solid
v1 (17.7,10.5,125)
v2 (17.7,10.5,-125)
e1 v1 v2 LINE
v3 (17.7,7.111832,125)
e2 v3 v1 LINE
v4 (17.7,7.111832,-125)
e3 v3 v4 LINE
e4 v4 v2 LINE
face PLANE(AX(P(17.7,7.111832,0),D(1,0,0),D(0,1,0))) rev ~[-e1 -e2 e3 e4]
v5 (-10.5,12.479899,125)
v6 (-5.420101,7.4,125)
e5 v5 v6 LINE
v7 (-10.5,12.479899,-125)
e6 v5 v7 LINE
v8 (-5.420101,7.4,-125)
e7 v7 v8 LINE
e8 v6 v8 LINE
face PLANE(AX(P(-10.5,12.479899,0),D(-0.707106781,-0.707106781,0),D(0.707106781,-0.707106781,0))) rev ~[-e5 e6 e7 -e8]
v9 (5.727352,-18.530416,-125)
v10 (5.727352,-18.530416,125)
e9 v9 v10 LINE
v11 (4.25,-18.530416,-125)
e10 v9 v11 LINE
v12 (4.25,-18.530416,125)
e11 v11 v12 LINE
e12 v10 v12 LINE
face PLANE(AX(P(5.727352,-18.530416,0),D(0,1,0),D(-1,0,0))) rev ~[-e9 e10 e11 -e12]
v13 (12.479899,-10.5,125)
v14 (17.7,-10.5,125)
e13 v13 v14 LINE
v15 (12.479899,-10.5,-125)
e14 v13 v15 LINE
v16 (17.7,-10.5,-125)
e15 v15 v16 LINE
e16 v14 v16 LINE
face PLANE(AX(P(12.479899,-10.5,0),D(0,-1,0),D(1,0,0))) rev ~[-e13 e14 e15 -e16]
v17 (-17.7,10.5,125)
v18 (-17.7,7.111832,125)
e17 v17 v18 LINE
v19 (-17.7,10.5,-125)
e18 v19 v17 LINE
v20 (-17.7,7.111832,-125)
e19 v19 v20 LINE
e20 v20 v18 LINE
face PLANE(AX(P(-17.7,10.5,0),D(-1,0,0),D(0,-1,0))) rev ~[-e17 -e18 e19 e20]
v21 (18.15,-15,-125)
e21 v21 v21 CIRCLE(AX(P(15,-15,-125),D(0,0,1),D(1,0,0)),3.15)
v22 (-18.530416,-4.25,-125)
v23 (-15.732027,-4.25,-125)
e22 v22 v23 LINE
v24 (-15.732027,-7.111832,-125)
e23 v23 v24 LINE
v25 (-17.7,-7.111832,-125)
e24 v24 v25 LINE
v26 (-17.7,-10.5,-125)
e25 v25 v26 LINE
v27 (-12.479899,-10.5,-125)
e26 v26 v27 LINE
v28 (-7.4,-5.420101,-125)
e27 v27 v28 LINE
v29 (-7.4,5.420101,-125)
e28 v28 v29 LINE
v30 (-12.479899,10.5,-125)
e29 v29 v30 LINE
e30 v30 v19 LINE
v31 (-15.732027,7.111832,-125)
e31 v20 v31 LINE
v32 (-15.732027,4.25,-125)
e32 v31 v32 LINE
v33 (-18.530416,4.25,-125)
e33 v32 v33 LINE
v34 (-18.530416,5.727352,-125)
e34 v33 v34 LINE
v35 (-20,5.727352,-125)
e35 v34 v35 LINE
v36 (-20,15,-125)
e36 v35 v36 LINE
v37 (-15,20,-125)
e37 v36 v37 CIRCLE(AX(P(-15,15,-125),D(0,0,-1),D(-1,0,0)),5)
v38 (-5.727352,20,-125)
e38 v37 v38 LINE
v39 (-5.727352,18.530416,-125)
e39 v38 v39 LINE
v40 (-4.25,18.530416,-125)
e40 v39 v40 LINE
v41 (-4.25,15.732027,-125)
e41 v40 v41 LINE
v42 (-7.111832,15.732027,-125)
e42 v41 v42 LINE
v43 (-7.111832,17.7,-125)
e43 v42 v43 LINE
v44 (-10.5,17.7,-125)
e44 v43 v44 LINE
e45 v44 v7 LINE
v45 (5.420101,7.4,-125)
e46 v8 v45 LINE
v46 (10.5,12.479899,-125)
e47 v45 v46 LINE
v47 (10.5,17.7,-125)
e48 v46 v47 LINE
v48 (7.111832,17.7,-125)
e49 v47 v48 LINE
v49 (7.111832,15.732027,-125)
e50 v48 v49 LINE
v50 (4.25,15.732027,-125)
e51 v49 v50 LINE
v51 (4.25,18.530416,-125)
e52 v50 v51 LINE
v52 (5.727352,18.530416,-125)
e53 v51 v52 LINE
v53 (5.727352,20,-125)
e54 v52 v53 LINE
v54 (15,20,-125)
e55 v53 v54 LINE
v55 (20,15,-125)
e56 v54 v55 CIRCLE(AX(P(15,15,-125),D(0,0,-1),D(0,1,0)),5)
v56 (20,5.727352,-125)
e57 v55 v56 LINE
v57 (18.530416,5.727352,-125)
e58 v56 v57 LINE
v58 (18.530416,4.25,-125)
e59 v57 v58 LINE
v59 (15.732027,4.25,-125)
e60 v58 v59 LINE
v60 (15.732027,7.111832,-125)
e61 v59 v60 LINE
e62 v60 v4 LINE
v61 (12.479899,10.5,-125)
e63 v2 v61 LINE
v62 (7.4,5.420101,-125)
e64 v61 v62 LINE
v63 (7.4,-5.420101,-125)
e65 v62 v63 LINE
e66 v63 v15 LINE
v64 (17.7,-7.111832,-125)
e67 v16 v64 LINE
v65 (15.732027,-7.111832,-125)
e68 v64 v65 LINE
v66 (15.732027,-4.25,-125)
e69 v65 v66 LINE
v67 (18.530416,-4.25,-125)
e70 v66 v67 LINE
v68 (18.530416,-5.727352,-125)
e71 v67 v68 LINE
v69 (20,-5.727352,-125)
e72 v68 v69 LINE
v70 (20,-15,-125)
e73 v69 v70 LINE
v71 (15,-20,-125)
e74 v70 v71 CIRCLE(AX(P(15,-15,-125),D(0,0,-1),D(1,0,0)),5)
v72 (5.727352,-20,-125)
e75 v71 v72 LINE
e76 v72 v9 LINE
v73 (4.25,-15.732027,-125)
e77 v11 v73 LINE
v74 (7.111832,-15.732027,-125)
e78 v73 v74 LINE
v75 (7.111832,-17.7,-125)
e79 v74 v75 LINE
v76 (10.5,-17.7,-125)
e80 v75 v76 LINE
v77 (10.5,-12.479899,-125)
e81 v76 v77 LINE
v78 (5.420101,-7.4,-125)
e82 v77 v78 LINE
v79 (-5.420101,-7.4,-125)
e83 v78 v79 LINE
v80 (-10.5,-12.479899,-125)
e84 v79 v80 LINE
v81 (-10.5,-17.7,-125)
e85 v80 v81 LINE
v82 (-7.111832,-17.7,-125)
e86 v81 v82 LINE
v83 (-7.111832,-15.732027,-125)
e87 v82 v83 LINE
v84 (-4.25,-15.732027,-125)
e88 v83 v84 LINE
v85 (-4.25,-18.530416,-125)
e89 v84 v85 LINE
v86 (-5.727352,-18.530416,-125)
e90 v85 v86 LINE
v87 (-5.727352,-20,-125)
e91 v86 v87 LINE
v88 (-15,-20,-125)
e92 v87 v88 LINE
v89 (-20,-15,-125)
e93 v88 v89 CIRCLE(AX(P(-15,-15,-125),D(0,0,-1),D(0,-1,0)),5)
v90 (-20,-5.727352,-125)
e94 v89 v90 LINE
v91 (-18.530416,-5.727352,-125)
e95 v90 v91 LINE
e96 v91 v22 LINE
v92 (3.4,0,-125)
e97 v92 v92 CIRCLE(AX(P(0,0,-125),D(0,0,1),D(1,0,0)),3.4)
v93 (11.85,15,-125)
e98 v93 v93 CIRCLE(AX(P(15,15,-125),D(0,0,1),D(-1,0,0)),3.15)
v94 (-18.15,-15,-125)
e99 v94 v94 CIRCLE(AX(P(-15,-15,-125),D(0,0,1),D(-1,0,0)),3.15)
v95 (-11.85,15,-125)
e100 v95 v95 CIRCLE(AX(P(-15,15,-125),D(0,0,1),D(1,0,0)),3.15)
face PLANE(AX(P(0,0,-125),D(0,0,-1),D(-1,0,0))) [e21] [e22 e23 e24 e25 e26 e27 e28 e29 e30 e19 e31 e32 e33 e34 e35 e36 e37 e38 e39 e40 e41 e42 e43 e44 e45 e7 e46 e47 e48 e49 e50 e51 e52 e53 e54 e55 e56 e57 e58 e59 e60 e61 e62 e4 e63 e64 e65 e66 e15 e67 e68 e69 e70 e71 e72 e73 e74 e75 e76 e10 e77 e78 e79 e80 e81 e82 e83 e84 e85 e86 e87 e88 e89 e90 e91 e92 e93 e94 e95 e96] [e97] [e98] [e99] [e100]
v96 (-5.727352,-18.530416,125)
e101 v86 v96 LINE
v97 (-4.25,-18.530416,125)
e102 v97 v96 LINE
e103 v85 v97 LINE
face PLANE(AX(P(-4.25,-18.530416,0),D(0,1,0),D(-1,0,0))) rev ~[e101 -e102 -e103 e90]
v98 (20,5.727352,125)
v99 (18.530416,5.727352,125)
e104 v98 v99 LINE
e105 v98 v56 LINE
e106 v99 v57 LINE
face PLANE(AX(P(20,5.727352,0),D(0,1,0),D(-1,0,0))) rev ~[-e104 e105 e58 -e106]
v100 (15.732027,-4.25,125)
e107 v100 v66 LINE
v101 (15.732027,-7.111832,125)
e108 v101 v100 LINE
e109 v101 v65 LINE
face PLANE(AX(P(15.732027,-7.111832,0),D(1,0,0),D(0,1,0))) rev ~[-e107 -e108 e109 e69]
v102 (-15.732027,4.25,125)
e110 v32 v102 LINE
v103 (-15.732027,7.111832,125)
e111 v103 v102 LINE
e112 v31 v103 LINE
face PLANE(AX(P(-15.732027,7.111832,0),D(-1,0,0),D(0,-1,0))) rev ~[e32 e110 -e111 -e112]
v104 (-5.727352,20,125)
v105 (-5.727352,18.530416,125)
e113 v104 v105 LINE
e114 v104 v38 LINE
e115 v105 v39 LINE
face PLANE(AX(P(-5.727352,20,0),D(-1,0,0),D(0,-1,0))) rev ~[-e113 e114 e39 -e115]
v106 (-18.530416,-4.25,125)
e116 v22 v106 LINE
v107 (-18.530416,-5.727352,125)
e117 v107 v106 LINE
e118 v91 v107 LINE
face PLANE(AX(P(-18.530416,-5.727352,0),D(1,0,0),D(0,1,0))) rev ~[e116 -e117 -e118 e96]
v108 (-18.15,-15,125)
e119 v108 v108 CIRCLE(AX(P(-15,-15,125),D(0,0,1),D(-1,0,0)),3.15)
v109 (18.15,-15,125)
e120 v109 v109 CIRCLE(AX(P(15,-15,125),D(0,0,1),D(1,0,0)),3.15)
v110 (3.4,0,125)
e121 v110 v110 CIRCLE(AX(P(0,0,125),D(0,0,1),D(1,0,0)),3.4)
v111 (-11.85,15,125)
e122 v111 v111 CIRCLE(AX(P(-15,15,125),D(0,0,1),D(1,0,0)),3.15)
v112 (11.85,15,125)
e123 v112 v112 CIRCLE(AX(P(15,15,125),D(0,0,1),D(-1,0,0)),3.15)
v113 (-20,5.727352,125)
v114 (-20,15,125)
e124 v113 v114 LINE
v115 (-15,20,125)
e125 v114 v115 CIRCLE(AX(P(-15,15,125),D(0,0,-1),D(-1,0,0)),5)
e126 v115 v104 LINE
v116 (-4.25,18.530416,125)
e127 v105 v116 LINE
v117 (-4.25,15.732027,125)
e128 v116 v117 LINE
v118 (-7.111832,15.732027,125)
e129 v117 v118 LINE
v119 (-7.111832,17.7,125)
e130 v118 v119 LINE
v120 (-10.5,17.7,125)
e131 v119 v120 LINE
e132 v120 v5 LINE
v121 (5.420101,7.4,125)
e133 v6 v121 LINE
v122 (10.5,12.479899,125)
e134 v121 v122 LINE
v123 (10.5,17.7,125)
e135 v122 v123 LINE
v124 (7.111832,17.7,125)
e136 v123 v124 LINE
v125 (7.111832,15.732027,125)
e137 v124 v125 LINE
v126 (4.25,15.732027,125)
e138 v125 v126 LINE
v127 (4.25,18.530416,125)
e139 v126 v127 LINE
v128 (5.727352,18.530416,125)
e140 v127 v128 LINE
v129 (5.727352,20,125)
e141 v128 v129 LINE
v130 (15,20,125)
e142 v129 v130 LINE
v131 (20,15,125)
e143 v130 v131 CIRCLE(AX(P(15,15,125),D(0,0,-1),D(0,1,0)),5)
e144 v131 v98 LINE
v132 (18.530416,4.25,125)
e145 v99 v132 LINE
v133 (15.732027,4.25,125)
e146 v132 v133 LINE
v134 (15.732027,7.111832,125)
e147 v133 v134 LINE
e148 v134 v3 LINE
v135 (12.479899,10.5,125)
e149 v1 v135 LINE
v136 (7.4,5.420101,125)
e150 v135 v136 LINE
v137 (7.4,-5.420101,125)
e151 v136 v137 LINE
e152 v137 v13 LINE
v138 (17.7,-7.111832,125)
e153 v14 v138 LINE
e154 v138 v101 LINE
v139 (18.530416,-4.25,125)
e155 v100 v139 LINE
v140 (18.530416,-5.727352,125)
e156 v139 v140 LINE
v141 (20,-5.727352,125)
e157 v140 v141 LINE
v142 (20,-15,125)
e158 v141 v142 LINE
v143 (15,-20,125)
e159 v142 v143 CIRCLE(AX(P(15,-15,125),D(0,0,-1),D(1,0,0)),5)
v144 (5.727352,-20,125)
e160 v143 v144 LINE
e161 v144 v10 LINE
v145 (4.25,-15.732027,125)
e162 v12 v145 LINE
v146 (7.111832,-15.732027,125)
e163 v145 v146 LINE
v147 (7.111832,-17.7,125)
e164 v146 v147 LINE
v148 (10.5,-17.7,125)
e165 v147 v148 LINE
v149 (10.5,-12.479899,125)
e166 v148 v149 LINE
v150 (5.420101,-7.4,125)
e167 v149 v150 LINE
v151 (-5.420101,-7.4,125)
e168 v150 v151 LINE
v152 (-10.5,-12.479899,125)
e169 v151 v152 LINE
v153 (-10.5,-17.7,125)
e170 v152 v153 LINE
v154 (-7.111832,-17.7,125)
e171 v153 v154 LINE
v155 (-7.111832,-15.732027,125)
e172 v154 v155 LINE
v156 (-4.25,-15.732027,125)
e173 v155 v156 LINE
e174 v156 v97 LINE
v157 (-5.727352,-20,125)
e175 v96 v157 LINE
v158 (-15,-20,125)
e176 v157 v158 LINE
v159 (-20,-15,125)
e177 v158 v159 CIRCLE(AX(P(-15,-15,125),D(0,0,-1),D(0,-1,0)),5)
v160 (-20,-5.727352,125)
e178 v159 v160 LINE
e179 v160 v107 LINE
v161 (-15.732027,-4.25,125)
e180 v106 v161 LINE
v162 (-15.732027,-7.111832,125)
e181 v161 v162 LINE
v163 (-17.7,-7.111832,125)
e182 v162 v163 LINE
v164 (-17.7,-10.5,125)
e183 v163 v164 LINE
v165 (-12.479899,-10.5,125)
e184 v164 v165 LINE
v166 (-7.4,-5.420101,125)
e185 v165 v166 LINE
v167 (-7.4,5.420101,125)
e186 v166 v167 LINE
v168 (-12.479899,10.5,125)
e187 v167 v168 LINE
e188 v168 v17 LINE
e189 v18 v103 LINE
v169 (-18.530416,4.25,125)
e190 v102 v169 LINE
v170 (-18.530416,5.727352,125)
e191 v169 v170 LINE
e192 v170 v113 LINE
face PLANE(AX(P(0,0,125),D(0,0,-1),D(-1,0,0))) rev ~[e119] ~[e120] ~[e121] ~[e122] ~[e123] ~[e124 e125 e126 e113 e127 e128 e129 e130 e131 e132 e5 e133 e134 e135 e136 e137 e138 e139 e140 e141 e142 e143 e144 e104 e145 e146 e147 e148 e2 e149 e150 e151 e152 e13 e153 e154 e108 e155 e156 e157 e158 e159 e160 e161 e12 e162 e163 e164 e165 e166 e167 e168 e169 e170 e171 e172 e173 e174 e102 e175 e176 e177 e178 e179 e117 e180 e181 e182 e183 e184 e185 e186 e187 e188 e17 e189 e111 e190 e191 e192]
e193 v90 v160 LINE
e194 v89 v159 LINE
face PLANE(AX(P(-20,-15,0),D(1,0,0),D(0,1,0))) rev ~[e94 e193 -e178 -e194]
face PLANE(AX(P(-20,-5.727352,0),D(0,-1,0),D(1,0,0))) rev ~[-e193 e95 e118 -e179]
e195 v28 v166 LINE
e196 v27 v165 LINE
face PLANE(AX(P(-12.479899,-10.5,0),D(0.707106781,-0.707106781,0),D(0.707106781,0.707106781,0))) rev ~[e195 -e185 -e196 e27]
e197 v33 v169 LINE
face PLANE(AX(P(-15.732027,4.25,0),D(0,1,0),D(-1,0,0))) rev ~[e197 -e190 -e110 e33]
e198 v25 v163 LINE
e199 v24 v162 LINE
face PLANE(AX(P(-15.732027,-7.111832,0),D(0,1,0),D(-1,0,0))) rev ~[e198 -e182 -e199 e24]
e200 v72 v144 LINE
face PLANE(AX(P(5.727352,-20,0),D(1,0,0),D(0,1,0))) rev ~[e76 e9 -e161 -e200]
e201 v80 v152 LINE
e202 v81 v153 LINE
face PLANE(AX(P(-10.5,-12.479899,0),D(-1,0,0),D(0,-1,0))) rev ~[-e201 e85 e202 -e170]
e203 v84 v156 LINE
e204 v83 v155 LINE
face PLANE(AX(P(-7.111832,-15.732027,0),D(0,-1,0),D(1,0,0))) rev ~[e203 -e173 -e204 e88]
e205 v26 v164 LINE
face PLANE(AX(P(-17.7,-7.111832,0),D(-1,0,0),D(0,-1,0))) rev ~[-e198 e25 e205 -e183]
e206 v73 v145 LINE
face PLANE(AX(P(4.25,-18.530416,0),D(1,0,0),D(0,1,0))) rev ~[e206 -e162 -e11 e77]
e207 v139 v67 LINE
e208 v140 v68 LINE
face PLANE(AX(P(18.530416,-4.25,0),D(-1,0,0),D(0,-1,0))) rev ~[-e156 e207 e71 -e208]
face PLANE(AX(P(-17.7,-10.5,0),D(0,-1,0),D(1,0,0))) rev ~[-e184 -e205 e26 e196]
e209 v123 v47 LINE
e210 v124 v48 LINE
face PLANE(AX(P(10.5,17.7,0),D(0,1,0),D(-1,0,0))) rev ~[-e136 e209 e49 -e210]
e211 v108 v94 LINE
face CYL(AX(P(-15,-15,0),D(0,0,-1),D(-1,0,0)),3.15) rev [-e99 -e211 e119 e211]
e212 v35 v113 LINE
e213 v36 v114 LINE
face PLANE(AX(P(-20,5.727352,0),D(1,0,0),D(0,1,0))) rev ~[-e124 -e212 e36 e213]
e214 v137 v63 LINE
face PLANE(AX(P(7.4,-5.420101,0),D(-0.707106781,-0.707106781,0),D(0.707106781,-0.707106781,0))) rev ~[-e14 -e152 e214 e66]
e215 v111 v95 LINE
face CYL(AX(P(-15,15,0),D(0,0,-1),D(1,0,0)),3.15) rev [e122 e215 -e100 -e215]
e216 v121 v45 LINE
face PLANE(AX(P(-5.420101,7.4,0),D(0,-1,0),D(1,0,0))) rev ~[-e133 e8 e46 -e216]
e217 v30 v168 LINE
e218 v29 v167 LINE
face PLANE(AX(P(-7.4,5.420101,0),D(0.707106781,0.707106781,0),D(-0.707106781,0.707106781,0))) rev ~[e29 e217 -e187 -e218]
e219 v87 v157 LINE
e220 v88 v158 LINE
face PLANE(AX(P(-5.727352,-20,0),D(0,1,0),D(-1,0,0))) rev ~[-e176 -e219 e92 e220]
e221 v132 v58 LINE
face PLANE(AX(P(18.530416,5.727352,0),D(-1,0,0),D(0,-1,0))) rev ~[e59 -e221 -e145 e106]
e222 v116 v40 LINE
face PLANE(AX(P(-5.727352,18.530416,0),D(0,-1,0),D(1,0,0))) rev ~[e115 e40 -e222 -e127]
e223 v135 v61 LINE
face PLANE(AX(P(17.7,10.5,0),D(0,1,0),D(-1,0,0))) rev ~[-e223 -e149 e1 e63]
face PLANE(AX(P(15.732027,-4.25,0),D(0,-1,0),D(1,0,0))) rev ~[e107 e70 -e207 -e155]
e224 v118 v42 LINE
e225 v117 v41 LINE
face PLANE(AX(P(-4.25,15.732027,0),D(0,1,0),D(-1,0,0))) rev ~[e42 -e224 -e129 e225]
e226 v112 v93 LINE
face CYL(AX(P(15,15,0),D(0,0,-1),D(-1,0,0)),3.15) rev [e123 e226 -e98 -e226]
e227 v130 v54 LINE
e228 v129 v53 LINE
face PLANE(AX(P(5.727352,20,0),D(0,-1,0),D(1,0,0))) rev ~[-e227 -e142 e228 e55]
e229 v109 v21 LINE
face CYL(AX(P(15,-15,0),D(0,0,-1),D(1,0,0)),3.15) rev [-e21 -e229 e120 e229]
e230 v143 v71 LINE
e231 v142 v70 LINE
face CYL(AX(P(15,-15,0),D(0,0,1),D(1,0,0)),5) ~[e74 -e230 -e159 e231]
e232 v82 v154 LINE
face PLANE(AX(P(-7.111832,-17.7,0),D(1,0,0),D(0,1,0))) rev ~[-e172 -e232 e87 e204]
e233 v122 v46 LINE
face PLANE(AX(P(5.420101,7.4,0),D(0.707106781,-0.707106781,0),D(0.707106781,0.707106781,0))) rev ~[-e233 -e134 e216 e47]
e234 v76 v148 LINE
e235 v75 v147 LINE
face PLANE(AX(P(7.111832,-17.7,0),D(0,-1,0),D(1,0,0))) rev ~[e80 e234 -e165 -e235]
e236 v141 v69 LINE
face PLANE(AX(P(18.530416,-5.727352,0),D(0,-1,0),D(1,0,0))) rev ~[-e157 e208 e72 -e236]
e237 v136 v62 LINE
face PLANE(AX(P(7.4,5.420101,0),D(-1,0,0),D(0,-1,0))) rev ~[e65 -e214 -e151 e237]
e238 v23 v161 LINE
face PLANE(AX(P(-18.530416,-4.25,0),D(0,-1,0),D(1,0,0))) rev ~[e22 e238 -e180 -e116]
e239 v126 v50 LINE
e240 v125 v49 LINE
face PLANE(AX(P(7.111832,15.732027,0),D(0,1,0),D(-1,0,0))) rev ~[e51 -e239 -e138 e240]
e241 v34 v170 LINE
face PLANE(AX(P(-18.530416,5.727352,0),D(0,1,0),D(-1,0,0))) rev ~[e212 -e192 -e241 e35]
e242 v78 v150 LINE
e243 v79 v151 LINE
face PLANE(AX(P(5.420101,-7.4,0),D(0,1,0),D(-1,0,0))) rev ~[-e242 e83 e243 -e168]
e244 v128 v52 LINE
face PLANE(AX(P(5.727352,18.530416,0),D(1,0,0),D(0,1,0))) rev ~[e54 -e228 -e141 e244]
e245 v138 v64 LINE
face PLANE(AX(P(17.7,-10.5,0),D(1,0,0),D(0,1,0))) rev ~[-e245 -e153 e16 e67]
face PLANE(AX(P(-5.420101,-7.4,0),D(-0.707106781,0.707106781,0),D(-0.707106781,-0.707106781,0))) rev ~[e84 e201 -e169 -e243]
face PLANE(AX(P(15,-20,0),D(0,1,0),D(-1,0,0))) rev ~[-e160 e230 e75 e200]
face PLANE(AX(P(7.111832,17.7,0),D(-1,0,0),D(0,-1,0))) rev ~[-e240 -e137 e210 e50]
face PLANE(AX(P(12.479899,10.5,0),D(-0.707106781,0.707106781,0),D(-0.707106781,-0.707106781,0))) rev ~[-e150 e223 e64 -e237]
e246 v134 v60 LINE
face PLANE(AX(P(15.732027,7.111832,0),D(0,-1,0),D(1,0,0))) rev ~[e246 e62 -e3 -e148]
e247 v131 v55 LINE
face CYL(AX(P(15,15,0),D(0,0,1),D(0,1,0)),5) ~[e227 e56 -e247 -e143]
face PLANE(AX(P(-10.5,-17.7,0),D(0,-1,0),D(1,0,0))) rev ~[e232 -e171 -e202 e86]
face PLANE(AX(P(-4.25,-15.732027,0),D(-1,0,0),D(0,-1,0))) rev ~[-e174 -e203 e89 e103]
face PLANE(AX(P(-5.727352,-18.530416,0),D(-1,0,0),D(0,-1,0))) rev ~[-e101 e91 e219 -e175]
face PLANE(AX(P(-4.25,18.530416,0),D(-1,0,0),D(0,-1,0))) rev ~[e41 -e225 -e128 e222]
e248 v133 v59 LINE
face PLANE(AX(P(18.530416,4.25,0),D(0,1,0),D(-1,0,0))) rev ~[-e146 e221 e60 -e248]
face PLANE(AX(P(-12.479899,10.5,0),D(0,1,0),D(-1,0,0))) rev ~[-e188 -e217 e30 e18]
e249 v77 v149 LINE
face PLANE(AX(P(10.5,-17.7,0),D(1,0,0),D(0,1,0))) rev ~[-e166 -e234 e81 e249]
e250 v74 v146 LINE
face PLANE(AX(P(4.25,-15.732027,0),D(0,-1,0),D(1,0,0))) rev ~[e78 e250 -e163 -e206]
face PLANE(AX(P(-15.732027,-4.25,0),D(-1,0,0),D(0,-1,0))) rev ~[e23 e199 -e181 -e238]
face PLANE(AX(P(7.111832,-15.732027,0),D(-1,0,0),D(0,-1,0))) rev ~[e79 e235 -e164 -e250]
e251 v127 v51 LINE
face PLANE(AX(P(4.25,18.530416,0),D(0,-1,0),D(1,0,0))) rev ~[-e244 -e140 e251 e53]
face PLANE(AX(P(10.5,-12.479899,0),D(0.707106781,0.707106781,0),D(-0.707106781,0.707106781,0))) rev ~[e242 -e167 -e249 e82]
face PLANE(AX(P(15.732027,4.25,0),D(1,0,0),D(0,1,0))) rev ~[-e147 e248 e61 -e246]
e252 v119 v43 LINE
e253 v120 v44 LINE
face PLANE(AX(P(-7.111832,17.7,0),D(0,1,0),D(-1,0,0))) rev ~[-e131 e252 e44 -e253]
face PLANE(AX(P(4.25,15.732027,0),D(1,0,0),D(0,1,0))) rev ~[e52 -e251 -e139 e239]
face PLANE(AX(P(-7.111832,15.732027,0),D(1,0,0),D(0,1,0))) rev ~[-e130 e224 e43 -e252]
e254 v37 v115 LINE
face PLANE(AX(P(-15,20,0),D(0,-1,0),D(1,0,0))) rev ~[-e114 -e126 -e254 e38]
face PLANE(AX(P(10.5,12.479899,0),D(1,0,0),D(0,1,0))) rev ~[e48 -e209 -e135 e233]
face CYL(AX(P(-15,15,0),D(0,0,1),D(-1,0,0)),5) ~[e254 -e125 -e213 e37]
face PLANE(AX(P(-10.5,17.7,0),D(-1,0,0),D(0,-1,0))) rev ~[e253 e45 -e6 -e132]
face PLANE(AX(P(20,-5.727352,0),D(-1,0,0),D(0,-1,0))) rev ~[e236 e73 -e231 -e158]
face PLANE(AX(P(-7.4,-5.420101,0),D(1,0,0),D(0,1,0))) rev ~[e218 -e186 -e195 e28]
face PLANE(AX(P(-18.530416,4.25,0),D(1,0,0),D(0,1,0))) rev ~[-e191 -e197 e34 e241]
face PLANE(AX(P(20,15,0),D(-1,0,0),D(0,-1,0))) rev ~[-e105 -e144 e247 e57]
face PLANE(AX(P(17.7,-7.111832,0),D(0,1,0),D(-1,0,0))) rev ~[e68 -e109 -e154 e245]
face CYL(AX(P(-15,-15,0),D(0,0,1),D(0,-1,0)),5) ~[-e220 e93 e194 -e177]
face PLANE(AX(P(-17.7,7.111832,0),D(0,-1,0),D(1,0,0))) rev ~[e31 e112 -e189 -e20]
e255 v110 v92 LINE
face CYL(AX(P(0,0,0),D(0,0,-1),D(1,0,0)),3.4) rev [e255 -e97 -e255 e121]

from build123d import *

# Parameters (mm, degrees)
SKETCH_1_R      = 3.4
SKETCH_1_R_2    = 3.15
EXTRUDE_1_DEPTH = 125


with BuildPart() as part:
    # Эскиз1 → Бобышка-Вытянуть1 (new, symmetric)
    with BuildSketch(Plane.XY):
        with BuildLine():
            Line((-15, 20), (-5.727351849, 20))
            Line((-5.727351849, 20), (-5.727351849, 18.530416438))
            Line((-5.727351849, 18.530416438), (-4.25, 18.530416438))
            Line((-4.25, 18.530416438), (-4.25, 15.732027397))
            Line((-4.25, 15.732027397), (-7.111831817, 15.732027397))
            Line((-7.111831817, 15.732027397), (-7.111831817, 17.7))
            Line((-7.111831817, 17.7), (-10.5, 17.7))
            Line((-10.5, 17.7), (-10.5, 12.479898987))
            Line((-10.5, 12.479898987), (-5.420101013, 7.4))
            Line((-5.420101013, 7.4), (5.420101013, 7.4))
            Line((5.420101013, 7.4), (10.5, 12.479898987))
            Line((10.5, 12.479898987), (10.5, 17.7))
            Line((10.5, 17.7), (7.111831817, 17.7))
            Line((7.111831817, 17.7), (7.111831817, 15.732027397))
            Line((7.111831817, 15.732027397), (4.25, 15.732027397))
            Line((4.25, 15.732027397), (4.25, 18.530416438))
            Line((4.25, 18.530416438), (5.727351849, 18.530416438))
            Line((5.727351849, 18.530416438), (5.727351849, 20))
            Line((5.727351849, 20), (15, 20))
            ThreePointArc((15, 20), (18.535533906, 18.535533906), (20, 15))
            Line((20, 15), (20, 5.727351849))
            Line((20, 5.727351849), (18.530416438, 5.727351849))
            Line((18.530416438, 5.727351849), (18.530416438, 4.25))
            Line((18.530416438, 4.25), (15.732027397, 4.25))
            Line((15.732027397, 4.25), (15.732027397, 7.111831817))
            Line((15.732027397, 7.111831817), (17.7, 7.111831817))
            Line((17.7, 7.111831817), (17.7, 10.5))
            Line((17.7, 10.5), (12.479898987, 10.5))
            Line((12.479898987, 10.5), (7.4, 5.420101013))
            Line((7.4, 5.420101013), (7.4, -5.420101013))
            Line((7.4, -5.420101013), (12.479898987, -10.5))
            Line((12.479898987, -10.5), (17.7, -10.5))
            Line((17.7, -10.5), (17.7, -7.111831817))
            Line((17.7, -7.111831817), (15.732027397, -7.111831817))
            Line((15.732027397, -7.111831817), (15.732027397, -4.25))
            Line((15.732027397, -4.25), (18.530416438, -4.25))
            Line((18.530416438, -4.25), (18.530416438, -5.727351849))
            Line((18.530416438, -5.727351849), (20, -5.727351849))
            Line((20, -5.727351849), (20, -15))
            ThreePointArc((20, -15), (18.535533906, -18.535533906), (15, -20))
            Line((15, -20), (5.727351849, -20))
            Line((5.727351849, -20), (5.727351849, -18.530416438))
            Line((5.727351849, -18.530416438), (4.25, -18.530416438))
            Line((4.25, -18.530416438), (4.25, -15.732027397))
            Line((4.25, -15.732027397), (7.111831817, -15.732027397))
            Line((7.111831817, -15.732027397), (7.111831817, -17.7))
            Line((7.111831817, -17.7), (10.5, -17.7))
            Line((10.5, -17.7), (10.5, -12.479898987))
            Line((10.5, -12.479898987), (5.420101013, -7.4))
            Line((5.420101013, -7.4), (-5.420101013, -7.4))
            Line((-5.420101013, -7.4), (-10.5, -12.479898987))
            Line((-10.5, -12.479898987), (-10.5, -17.7))
            Line((-10.5, -17.7), (-7.111831817, -17.7))
            Line((-7.111831817, -17.7), (-7.111831817, -15.732027397))
            Line((-7.111831817, -15.732027397), (-4.25, -15.732027397))
            Line((-4.25, -15.732027397), (-4.25, -18.530416438))
            Line((-4.25, -18.530416438), (-5.727351849, -18.530416438))
            Line((-5.727351849, -18.530416438), (-5.727351849, -20))
            Line((-5.727351849, -20), (-15, -20))
            ThreePointArc((-15, -20), (-18.535533906, -18.535533906), (-20, -15))
            Line((-20, -15), (-20, -5.727351849))
            Line((-20, -5.727351849), (-18.530416438, -5.727351849))
            Line((-18.530416438, -5.727351849), (-18.530416438, -4.25))
            Line((-18.530416438, -4.25), (-15.732027397, -4.25))
            Line((-15.732027397, -4.25), (-15.732027397, -7.111831817))
            Line((-15.732027397, -7.111831817), (-17.7, -7.111831817))
            Line((-17.7, -7.111831817), (-17.7, -10.5))
            Line((-17.7, -10.5), (-12.479898987, -10.5))
            Line((-12.479898987, -10.5), (-7.4, -5.420101013))
            Line((-7.4, -5.420101013), (-7.4, 5.420101013))
            Line((-7.4, 5.420101013), (-12.479898987, 10.5))
            Line((-12.479898987, 10.5), (-17.7, 10.5))
            Line((-17.7, 10.5), (-17.7, 7.111831817))
            Line((-17.7, 7.111831817), (-15.732027397, 7.111831817))
            Line((-15.732027397, 7.111831817), (-15.732027397, 4.25))
            Line((-15.732027397, 4.25), (-18.530416438, 4.25))
            Line((-18.530416438, 4.25), (-18.530416438, 5.727351849))
            Line((-18.530416438, 5.727351849), (-20, 5.727351849))
            Line((-20, 5.727351849), (-20, 15))
            ThreePointArc((-20, 15), (-18.535533906, 18.535533906), (-15, 20))
        make_face()
        Circle(SKETCH_1_R, mode=Mode.SUBTRACT)
        with Locations((-15, 15)):
            Circle(SKETCH_1_R_2, mode=Mode.SUBTRACT)
        with Locations((15, 15)):
            Circle(SKETCH_1_R_2, mode=Mode.SUBTRACT)
        with Locations((15, -15)):
            Circle(SKETCH_1_R_2, mode=Mode.SUBTRACT)
        with Locations((-15, -15)):
            Circle(SKETCH_1_R_2, mode=Mode.SUBTRACT)
    extrude(amount=EXTRUDE_1_DEPTH, both=True)


solid = part.part
